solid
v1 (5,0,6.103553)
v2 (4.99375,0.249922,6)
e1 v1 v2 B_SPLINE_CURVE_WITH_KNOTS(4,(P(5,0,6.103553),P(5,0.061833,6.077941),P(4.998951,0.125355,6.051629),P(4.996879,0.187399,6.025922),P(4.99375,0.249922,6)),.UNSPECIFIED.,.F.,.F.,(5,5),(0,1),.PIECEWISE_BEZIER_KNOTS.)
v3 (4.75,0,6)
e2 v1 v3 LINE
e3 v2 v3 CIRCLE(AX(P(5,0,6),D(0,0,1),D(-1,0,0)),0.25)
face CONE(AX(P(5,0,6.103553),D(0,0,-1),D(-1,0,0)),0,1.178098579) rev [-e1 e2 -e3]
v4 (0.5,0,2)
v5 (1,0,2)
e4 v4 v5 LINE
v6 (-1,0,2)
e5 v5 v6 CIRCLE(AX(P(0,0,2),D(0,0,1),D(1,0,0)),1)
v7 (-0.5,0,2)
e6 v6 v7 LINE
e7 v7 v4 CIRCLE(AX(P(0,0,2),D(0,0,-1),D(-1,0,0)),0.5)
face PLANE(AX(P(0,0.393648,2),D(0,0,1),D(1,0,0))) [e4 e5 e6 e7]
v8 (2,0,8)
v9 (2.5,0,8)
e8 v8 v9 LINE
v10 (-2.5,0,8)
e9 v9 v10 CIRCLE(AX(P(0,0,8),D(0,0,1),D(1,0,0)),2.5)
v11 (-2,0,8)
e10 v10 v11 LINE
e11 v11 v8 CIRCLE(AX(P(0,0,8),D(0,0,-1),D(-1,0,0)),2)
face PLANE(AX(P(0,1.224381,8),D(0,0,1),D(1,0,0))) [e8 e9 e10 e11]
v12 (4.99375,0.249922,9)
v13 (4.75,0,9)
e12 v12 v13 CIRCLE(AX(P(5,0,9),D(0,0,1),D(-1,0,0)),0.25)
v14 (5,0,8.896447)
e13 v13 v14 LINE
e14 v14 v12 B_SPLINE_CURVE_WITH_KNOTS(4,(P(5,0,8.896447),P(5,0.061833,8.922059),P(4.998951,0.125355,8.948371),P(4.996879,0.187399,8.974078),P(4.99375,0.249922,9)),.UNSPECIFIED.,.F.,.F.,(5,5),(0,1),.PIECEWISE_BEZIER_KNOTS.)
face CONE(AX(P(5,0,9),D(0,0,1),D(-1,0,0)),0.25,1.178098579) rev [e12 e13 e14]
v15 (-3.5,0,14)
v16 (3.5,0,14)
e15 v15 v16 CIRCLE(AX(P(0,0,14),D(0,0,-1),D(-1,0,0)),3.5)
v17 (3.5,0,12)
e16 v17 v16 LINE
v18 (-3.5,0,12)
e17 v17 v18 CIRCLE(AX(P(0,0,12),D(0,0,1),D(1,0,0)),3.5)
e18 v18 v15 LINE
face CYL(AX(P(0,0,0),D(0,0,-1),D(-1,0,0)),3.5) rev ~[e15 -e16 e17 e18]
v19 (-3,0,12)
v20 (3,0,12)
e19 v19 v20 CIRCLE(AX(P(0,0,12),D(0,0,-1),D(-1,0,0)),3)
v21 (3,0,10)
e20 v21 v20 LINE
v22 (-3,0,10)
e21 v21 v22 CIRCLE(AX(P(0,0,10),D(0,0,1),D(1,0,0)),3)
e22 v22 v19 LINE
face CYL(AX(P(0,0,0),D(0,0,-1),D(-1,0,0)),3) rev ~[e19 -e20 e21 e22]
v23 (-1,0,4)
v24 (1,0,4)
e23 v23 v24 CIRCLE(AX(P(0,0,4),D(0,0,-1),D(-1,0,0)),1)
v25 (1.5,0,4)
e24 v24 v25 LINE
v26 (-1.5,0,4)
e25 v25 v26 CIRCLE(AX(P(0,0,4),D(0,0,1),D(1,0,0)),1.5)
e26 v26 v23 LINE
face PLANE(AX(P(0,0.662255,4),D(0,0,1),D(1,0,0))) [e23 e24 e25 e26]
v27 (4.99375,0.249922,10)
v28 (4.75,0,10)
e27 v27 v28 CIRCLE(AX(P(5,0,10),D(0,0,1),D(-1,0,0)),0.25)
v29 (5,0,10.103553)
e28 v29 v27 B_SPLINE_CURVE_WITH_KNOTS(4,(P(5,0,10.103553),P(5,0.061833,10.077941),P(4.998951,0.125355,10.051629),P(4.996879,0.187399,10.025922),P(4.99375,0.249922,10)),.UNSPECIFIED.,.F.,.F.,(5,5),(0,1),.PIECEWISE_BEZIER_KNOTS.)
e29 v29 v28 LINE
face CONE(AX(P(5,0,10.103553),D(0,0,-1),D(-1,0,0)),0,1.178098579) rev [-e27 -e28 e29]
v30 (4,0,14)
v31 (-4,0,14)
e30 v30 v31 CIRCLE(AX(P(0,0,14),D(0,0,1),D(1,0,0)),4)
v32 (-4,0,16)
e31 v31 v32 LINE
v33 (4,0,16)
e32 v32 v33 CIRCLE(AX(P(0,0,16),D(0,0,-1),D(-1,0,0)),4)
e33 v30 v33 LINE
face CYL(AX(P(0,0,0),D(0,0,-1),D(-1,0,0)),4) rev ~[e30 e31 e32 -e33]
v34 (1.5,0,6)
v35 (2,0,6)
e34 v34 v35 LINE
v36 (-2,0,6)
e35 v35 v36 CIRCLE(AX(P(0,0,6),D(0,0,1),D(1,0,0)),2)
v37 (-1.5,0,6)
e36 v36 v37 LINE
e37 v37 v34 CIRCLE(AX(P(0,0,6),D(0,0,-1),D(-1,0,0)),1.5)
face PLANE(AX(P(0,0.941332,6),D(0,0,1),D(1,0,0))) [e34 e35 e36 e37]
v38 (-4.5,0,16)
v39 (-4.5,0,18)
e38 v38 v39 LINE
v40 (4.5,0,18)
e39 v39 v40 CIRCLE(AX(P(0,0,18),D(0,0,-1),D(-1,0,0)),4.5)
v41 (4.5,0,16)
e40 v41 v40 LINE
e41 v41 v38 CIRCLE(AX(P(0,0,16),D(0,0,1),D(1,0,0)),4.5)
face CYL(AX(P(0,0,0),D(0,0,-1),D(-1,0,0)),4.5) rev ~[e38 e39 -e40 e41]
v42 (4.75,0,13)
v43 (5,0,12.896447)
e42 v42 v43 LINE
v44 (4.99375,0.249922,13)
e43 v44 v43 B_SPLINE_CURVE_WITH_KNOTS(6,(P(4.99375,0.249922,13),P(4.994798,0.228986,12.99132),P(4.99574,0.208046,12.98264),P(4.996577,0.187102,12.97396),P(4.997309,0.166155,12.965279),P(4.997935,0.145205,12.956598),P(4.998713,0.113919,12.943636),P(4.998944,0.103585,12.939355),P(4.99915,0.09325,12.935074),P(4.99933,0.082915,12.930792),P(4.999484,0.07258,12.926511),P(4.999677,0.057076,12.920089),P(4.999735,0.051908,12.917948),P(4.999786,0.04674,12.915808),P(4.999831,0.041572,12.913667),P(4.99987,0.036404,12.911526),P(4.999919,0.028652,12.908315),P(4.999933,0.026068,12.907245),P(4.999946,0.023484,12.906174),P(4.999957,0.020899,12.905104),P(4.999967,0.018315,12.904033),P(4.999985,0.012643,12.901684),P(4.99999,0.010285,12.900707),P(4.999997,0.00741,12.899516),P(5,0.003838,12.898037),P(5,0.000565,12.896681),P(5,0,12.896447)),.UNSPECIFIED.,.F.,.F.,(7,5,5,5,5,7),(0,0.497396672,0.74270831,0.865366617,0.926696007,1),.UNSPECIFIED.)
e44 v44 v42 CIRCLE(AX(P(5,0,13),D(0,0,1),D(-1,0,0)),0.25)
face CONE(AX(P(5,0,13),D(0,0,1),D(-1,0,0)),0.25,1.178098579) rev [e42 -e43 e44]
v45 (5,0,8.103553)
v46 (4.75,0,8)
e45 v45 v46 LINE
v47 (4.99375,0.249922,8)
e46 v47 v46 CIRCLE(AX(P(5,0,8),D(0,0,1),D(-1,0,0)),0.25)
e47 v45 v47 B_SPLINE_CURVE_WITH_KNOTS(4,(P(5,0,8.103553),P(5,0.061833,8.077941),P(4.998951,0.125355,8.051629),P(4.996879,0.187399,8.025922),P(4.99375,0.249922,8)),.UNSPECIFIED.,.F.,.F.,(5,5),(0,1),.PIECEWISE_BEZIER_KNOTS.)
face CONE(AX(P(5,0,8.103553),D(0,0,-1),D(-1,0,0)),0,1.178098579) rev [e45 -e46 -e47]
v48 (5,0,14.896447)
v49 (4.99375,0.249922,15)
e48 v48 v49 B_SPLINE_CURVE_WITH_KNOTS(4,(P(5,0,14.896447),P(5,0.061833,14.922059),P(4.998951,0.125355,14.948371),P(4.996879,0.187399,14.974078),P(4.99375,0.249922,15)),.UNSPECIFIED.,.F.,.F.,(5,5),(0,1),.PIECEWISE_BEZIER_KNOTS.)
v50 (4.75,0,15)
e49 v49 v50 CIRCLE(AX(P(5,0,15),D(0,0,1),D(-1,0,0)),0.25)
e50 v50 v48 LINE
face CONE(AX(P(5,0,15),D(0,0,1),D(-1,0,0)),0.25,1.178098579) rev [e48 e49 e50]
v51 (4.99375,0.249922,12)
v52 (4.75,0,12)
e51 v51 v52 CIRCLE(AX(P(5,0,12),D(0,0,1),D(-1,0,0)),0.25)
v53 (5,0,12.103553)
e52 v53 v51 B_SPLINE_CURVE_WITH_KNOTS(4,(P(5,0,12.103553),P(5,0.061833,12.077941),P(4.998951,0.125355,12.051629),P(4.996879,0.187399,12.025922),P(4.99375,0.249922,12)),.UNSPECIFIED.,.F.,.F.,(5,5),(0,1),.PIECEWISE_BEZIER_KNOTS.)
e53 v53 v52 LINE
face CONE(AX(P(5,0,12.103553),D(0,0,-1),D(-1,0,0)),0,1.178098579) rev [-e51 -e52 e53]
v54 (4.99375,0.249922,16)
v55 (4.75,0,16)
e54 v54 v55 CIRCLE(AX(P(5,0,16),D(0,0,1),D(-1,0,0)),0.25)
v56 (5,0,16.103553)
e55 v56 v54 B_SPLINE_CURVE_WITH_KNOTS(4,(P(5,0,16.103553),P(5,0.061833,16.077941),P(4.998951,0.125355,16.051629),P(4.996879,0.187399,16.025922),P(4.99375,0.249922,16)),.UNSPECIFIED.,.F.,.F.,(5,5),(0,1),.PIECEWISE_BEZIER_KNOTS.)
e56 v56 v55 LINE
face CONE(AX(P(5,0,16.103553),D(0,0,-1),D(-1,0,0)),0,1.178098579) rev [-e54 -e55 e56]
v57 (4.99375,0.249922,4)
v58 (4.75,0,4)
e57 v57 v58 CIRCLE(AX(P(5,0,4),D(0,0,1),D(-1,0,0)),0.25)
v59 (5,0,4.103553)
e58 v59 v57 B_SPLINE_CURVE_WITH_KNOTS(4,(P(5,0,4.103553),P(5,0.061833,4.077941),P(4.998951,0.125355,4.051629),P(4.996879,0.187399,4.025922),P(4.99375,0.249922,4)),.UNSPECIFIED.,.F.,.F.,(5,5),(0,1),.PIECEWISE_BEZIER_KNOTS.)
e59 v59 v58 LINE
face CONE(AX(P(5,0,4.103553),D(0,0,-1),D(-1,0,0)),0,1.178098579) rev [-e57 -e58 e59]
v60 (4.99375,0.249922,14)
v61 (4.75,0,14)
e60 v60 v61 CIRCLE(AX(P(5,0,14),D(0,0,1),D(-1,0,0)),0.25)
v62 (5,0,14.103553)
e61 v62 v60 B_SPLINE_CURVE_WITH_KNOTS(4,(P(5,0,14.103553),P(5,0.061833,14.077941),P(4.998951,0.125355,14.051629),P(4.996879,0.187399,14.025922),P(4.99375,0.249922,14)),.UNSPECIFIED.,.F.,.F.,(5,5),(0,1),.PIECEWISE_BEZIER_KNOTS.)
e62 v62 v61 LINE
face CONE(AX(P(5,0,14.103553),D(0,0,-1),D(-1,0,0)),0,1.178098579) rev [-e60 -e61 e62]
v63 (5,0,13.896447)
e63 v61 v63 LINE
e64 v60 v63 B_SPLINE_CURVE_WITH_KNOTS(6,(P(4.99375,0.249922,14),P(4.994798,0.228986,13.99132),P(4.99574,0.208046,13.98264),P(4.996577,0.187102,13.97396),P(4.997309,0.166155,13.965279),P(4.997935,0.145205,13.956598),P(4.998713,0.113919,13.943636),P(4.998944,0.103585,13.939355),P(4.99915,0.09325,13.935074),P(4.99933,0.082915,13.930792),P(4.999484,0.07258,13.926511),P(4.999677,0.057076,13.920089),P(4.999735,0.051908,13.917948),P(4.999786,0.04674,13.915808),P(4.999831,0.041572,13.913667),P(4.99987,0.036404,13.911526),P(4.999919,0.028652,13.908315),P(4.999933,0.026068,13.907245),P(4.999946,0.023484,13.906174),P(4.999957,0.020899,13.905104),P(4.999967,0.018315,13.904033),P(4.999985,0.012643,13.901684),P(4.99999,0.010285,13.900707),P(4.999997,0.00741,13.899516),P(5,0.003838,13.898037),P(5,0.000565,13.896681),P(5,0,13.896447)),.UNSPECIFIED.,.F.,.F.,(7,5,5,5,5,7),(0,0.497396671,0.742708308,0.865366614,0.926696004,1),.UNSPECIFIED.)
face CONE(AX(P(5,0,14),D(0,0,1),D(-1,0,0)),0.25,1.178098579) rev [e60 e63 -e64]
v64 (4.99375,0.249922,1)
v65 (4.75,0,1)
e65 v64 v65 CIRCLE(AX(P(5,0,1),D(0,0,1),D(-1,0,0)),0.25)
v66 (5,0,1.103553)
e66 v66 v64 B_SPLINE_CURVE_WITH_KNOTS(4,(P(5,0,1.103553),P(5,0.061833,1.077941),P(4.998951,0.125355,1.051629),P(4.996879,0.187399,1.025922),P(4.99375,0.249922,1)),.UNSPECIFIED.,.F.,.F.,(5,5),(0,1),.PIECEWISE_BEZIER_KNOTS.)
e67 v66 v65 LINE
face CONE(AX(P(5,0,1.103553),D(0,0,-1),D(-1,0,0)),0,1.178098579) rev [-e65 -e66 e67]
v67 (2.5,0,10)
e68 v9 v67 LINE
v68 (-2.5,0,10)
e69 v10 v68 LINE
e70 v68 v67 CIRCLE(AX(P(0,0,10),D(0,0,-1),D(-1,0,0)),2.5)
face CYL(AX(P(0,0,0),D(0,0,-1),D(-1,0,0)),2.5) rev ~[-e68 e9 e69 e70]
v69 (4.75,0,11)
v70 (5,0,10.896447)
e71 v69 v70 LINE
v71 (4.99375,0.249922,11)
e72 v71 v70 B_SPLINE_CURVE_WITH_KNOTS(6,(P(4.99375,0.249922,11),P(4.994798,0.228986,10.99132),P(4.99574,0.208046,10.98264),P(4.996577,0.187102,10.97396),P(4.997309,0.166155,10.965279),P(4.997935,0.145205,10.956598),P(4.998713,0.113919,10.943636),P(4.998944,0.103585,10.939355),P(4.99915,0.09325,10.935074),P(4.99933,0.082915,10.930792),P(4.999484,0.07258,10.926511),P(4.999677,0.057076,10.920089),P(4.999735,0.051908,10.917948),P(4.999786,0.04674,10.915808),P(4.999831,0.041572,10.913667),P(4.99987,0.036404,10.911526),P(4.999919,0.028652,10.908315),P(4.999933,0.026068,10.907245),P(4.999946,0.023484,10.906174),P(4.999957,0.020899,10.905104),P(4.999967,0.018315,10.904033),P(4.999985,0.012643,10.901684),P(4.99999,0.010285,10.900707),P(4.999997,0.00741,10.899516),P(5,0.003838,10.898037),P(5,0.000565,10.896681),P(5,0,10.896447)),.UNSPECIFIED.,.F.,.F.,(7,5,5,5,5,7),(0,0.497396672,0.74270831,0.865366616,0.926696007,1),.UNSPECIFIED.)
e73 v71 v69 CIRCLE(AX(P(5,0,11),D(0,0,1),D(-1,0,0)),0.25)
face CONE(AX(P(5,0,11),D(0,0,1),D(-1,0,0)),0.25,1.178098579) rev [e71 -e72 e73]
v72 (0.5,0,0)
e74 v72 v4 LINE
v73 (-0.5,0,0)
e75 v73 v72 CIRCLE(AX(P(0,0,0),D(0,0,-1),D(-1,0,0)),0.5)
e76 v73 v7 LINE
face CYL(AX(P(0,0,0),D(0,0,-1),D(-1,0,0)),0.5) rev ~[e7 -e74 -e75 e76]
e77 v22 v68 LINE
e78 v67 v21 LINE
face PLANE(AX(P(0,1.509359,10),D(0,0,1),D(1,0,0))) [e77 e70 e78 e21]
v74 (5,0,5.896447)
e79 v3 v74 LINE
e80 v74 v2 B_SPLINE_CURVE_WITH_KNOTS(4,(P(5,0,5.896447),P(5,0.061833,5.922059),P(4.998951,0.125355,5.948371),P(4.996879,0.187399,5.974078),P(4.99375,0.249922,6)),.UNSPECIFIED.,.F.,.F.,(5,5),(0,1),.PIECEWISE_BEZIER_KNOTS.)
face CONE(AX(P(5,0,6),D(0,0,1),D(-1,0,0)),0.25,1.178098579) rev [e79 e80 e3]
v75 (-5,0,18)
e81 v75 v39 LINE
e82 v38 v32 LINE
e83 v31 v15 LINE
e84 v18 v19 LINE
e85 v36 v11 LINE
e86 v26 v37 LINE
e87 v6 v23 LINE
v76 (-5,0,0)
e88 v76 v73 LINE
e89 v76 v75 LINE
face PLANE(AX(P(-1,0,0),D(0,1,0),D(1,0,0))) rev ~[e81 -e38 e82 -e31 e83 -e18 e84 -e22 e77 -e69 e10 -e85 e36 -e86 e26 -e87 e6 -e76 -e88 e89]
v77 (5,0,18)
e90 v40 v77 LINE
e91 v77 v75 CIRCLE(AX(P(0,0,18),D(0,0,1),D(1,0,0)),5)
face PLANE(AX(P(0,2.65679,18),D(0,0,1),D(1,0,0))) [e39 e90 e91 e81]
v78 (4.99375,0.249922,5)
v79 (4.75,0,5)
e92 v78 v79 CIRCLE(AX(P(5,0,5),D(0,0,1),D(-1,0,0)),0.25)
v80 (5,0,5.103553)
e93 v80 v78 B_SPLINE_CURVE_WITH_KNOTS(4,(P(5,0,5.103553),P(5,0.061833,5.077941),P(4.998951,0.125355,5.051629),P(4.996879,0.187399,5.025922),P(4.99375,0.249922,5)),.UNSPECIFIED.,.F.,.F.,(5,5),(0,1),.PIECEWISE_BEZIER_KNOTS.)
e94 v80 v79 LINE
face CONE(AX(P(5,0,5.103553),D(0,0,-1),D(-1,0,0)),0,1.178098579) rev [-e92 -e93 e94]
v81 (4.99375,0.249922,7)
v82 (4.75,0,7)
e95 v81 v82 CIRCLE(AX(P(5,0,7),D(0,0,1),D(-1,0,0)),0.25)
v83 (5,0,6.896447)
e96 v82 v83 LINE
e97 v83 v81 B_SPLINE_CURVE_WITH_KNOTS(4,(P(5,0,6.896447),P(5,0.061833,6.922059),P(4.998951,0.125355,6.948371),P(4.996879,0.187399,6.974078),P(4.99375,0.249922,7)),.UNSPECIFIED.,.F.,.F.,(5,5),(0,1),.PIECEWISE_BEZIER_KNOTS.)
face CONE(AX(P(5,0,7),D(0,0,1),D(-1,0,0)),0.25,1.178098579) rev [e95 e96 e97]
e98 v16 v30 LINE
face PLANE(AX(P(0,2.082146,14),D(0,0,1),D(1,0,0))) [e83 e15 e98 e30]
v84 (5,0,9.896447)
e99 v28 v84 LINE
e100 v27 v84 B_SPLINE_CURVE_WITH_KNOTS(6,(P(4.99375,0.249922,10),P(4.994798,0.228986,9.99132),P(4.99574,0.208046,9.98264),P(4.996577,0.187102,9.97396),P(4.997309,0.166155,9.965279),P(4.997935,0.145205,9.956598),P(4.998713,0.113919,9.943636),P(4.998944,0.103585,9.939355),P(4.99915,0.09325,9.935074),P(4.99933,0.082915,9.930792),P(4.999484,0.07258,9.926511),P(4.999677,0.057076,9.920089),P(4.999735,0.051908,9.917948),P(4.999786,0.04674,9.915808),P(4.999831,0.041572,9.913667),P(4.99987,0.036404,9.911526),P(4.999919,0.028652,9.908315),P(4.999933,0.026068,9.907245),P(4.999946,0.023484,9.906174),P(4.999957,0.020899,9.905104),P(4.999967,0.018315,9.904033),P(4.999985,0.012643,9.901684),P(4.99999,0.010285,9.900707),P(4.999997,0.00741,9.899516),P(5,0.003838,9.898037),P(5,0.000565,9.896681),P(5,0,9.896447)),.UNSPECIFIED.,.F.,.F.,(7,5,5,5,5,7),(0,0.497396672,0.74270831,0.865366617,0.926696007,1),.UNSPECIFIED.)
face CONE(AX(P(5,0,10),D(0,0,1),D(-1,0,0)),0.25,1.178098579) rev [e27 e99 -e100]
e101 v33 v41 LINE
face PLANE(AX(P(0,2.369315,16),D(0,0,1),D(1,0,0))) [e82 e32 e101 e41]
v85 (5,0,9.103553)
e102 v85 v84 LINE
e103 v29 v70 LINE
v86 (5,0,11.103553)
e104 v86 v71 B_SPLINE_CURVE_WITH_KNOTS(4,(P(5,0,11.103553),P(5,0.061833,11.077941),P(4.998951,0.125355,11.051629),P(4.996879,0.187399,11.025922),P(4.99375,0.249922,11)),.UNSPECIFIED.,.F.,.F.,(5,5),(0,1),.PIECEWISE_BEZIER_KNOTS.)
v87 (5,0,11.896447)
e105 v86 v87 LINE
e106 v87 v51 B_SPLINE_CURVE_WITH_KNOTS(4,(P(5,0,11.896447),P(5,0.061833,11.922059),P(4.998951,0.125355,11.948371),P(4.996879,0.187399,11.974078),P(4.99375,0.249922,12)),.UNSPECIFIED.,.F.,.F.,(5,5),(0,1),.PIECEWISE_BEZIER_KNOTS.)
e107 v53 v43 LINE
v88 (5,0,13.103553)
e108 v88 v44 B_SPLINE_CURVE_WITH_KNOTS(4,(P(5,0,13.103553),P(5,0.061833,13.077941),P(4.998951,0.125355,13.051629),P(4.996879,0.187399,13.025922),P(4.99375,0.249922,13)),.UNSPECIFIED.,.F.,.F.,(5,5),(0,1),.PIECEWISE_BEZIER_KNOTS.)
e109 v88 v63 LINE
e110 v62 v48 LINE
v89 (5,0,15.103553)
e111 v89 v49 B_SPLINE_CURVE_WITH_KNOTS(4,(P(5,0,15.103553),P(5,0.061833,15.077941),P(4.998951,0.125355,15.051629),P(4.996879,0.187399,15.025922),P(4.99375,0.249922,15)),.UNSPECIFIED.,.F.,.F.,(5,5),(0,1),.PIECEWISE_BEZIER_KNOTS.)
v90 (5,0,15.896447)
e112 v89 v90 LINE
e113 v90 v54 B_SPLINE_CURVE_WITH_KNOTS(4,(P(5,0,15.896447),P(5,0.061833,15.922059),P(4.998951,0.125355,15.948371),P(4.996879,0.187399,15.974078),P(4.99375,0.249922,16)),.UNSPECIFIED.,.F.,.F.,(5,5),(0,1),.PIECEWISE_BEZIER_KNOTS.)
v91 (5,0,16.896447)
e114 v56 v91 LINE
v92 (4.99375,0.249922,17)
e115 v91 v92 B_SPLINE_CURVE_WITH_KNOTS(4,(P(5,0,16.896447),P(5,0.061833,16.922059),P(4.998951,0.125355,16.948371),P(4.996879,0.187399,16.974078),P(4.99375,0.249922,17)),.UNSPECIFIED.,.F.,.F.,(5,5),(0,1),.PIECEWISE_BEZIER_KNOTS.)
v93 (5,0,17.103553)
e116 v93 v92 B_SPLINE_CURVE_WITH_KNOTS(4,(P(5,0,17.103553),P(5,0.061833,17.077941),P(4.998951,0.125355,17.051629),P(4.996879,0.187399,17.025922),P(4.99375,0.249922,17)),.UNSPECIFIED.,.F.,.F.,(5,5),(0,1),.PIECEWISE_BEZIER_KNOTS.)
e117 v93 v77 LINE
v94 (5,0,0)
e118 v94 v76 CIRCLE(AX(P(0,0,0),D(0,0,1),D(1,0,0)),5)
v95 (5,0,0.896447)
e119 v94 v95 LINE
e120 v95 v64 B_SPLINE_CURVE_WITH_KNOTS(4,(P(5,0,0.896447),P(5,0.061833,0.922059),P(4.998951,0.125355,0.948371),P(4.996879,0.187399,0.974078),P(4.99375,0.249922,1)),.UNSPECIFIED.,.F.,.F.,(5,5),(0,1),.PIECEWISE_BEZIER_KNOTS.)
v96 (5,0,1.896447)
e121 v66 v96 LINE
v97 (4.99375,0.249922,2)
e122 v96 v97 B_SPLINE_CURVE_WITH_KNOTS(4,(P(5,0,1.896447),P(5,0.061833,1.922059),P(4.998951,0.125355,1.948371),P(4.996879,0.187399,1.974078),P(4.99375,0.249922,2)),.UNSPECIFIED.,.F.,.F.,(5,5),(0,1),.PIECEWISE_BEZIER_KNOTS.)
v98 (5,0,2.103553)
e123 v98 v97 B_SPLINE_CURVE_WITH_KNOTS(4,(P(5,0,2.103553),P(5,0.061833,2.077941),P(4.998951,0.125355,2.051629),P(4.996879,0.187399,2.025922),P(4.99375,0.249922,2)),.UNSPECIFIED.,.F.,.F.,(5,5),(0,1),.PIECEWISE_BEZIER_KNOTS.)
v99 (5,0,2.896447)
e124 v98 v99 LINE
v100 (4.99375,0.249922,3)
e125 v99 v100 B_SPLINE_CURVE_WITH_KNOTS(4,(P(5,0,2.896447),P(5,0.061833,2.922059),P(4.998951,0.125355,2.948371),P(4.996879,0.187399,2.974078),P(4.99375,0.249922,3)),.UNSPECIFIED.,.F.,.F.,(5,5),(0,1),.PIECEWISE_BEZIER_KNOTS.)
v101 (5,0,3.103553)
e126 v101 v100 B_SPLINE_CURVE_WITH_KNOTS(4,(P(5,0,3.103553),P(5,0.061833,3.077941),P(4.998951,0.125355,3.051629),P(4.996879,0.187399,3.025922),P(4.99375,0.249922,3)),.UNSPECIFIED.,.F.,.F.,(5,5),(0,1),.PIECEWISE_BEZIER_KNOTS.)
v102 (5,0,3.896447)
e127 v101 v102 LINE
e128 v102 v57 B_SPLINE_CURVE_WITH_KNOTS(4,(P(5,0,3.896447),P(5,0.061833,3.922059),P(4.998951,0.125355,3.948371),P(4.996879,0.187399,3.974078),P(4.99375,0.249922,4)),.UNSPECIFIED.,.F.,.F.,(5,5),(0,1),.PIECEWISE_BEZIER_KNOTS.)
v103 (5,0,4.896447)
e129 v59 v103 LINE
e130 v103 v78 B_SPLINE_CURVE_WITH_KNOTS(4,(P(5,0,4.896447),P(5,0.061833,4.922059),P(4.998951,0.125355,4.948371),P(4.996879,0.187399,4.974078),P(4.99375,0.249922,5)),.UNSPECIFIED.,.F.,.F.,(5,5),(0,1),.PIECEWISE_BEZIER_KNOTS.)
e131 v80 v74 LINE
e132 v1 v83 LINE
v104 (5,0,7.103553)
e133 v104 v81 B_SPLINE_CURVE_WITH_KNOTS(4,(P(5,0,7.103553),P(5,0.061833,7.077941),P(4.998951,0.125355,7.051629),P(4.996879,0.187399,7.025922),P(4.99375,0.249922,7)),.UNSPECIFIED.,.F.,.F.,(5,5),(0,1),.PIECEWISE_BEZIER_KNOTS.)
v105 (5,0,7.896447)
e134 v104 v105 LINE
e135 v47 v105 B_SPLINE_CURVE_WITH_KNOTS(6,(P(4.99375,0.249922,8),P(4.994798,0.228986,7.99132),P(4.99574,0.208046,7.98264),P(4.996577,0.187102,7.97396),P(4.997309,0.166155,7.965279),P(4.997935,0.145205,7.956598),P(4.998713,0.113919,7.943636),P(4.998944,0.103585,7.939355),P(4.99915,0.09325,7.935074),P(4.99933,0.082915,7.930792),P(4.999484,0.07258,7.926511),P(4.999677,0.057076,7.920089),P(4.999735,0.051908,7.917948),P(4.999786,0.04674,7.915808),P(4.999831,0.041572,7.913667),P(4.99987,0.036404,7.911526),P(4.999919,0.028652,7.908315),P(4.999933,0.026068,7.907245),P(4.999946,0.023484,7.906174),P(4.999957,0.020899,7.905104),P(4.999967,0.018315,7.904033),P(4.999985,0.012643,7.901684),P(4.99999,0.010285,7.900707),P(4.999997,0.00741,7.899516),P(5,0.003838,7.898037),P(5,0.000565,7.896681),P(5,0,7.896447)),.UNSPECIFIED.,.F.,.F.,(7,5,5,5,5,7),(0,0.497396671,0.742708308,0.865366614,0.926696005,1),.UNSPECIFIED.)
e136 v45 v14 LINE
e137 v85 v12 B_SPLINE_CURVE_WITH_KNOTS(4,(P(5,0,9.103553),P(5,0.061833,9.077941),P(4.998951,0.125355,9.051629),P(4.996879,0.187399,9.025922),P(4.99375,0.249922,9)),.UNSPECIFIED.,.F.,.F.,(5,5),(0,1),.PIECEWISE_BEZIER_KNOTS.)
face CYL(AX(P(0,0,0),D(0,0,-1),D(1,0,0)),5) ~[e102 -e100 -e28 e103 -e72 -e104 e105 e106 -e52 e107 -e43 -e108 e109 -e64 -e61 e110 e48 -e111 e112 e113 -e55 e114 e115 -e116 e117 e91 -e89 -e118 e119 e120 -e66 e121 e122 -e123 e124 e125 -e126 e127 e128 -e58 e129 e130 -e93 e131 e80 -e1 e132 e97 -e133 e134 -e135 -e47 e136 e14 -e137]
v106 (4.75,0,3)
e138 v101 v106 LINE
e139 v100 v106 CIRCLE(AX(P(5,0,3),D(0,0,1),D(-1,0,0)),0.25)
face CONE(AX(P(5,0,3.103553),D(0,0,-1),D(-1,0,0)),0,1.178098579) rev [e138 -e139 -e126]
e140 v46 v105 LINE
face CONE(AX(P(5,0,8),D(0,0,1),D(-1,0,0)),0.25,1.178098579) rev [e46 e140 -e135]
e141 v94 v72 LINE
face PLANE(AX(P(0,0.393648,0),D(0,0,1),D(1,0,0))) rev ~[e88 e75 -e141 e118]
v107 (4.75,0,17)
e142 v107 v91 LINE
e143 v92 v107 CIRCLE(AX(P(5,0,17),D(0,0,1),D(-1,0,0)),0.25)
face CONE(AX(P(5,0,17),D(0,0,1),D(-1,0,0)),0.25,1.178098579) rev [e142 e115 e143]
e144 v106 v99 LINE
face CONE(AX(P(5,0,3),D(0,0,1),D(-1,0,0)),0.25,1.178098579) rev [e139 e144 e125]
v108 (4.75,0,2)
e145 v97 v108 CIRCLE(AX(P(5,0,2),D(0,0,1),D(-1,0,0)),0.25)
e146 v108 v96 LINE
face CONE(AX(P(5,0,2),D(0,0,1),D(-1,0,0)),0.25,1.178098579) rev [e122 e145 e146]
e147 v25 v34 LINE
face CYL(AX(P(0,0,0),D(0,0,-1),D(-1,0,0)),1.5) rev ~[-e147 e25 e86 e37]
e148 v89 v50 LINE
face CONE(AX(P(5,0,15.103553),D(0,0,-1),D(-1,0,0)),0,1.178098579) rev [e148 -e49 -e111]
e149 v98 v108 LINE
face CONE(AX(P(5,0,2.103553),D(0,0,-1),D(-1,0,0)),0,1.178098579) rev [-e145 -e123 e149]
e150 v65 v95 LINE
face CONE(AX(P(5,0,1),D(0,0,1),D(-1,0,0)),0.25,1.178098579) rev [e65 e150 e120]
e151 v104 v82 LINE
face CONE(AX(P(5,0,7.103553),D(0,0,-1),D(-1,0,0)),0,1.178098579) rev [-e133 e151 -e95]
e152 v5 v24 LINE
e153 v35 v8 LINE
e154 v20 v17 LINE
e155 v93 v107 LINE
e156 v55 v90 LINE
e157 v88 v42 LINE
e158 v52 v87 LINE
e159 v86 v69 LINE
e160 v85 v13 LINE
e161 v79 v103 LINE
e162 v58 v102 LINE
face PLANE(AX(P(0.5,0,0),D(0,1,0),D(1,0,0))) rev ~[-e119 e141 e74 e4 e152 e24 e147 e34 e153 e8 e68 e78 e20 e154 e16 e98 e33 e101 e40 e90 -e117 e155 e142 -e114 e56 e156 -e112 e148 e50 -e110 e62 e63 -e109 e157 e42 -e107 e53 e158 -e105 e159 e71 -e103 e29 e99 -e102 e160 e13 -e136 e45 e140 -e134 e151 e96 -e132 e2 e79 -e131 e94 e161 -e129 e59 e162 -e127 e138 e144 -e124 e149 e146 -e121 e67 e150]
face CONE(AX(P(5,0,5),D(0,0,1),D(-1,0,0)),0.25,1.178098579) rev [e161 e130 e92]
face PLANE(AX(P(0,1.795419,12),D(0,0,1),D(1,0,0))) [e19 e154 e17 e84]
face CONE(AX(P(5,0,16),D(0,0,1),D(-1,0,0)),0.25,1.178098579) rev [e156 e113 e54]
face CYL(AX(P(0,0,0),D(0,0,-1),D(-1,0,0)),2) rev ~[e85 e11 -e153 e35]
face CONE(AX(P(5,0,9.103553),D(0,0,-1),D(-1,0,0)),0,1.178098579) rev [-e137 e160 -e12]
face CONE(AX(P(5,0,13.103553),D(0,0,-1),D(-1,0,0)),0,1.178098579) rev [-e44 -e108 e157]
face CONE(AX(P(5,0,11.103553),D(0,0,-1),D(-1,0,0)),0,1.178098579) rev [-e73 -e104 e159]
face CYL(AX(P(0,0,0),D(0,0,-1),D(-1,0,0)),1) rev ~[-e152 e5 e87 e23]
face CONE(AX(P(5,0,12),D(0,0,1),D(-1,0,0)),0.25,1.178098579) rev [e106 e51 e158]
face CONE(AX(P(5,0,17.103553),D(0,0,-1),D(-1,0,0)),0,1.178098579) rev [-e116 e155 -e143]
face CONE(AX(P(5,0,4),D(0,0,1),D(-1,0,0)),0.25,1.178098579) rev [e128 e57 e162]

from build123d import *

# Parameters (mm, degrees)
F1_DEPTH = 18
F2_DEPTH = 16
F3_DEPTH = 14
F4_DEPTH = 12
F5_DEPTH = 10
F6_DEPTH = 8
F7_DEPTH = 6
F8_DEPTH = 4
F9_DEPTH = 2


with BuildPart() as f1:
    # F0 (on Top) → F1 (new body)
    with BuildSketch(Plane.XY):
        with BuildLine():
            Line((-5, 0), (-4.5, 0))
            ThreePointArc((-4.5, 0), (0, 4.5), (4.5, 0))
            Line((4.5, 0), (5, 0))
            ThreePointArc((5, 0), (0, 5), (-5, 0))
        make_face()
    extrude(amount=F1_DEPTH)

    # F0 (on Top) → F2 (join)
    with BuildSketch(Plane.XY):
        with BuildLine():
            Line((-4.5, 0), (-4, 0))
            ThreePointArc((-4, 0), (0, 4), (4, 0))
            Line((4, 0), (4.5, 0))
            ThreePointArc((4.5, 0), (0, 4.5), (-4.5, 0))
        make_face()
    extrude(amount=F2_DEPTH)

    # F0 (on Top) → F3 (join)
    with BuildSketch(Plane.XY):
        with BuildLine():
            Line((-4, 0), (-3.5, 0))
            ThreePointArc((-3.5, 0), (0, 3.5), (3.5, 0))
            Line((3.5, 0), (4, 0))
            ThreePointArc((4, 0), (0, 4), (-4, 0))
        make_face()
    extrude(amount=F3_DEPTH)

    # F0 (on Top) → F4 (join)
    with BuildSketch(Plane.XY):
        with BuildLine():
            Line((-3.5, 0), (-3, 0))
            ThreePointArc((-3, 0), (0, 3), (3, 0))
            Line((3, 0), (3.5, 0))
            ThreePointArc((3.5, 0), (0, 3.5), (-3.5, 0))
        make_face()
    extrude(amount=F4_DEPTH)

    # F0 (on Top) → F5 (join)
    with BuildSketch(Plane.XY):
        with BuildLine():
            Line((-3, 0), (-2.5, 0))
            ThreePointArc((-2.5, 0), (0, 2.5), (2.5, 0))
            Line((2.5, 0), (3, 0))
            ThreePointArc((3, 0), (0, 3), (-3, 0))
        make_face()
    extrude(amount=F5_DEPTH)

    # F0 (on Top) → F6 (join)
    with BuildSketch(Plane.XY):
        with BuildLine():
            Line((-2.5, 0), (-2, 0))
            ThreePointArc((-2, 0), (0, 2), (2, 0))
            Line((2, 0), (2.5, 0))
            ThreePointArc((2.5, 0), (0, 2.5), (-2.5, 0))
        make_face()
    extrude(amount=F6_DEPTH)

    # F0 (on Top) → F7 (join)
    with BuildSketch(Plane.XY):
        with BuildLine():
            Line((-2, 0), (-1.5, 0))
            ThreePointArc((-1.5, 0), (0, 1.5), (1.5, 0))
            Line((1.5, 0), (2, 0))
            ThreePointArc((2, 0), (0, 2), (-2, 0))
        make_face()
    extrude(amount=F7_DEPTH)

    # F0 (on Top) → F8 (join)
    with BuildSketch(Plane.XY):
        with BuildLine():
            Line((-1.5, 0), (-1, 0))
            ThreePointArc((-1, 0), (0, 1), (1, 0))
            Line((1, 0), (1.5, 0))
            ThreePointArc((1.5, 0), (0, 1.5), (-1.5, 0))
        make_face()
    extrude(amount=F8_DEPTH)

    # F0 (on Top) → F9 (join)
    with BuildSketch(Plane.XY):
        with BuildLine():
            Line((-1, 0), (-0.5, 0))
            ThreePointArc((-0.5, 0), (0, 0.5), (0.5, 0))
            Line((0.5, 0), (1, 0))
            ThreePointArc((1, 0), (0, 1), (-1, 0))
        make_face()
    extrude(amount=F9_DEPTH)

    # F10 (on Front) → F11 (revolve, cut)
    with BuildSketch(Plane.XZ):
        Polygon((5, 17.103553), (4.75, 17), (5, 16.896447), align=None)
        Polygon((4.75, 16), (5, 15.896447), (5, 16.103553), align=None)
        Polygon((4.75, 15), (5, 14.896447), (5, 15.103553), align=None)
        Polygon((4.75, 14), (5, 13.896447), (5, 14.103553), align=None)
        Polygon((4.75, 13), (5, 12.896447), (5, 13.103553), align=None)
        Polygon((4.75, 12), (5, 11.896447), (5, 12.103553), align=None)
        Polygon((4.75, 11), (5, 10.896447), (5, 11.103553), align=None)
        Polygon((4.75, 10), (5, 9.896447), (5, 10.103553), align=None)
        Polygon((4.75, 9), (5, 8.896447), (5, 9.103553), align=None)
        Polygon((4.75, 8), (5, 7.896447), (5, 8.103553), align=None)
        Polygon((4.75, 7), (5, 6.896447), (5, 7.103553), align=None)
        Polygon((4.75, 1), (5, 0.896447), (5, 1.103553), align=None)
        Polygon((4.75, 2), (5, 1.896447), (5, 2.103553), align=None)
        Polygon((4.75, 3), (5, 2.896447), (5, 3.103553), align=None)
        Polygon((4.75, 4), (5, 3.896447), (5, 4.103553), align=None)
        Polygon((4.75, 5), (5, 4.896447), (5, 5.103553), align=None)
        Polygon((4.75, 6), (5, 5.896447), (5, 6.103553), align=None)
    revolve(axis=Axis((5, 0, 9), (0, 0, 1)), mode=Mode.SUBTRACT)


solid = f1.part
